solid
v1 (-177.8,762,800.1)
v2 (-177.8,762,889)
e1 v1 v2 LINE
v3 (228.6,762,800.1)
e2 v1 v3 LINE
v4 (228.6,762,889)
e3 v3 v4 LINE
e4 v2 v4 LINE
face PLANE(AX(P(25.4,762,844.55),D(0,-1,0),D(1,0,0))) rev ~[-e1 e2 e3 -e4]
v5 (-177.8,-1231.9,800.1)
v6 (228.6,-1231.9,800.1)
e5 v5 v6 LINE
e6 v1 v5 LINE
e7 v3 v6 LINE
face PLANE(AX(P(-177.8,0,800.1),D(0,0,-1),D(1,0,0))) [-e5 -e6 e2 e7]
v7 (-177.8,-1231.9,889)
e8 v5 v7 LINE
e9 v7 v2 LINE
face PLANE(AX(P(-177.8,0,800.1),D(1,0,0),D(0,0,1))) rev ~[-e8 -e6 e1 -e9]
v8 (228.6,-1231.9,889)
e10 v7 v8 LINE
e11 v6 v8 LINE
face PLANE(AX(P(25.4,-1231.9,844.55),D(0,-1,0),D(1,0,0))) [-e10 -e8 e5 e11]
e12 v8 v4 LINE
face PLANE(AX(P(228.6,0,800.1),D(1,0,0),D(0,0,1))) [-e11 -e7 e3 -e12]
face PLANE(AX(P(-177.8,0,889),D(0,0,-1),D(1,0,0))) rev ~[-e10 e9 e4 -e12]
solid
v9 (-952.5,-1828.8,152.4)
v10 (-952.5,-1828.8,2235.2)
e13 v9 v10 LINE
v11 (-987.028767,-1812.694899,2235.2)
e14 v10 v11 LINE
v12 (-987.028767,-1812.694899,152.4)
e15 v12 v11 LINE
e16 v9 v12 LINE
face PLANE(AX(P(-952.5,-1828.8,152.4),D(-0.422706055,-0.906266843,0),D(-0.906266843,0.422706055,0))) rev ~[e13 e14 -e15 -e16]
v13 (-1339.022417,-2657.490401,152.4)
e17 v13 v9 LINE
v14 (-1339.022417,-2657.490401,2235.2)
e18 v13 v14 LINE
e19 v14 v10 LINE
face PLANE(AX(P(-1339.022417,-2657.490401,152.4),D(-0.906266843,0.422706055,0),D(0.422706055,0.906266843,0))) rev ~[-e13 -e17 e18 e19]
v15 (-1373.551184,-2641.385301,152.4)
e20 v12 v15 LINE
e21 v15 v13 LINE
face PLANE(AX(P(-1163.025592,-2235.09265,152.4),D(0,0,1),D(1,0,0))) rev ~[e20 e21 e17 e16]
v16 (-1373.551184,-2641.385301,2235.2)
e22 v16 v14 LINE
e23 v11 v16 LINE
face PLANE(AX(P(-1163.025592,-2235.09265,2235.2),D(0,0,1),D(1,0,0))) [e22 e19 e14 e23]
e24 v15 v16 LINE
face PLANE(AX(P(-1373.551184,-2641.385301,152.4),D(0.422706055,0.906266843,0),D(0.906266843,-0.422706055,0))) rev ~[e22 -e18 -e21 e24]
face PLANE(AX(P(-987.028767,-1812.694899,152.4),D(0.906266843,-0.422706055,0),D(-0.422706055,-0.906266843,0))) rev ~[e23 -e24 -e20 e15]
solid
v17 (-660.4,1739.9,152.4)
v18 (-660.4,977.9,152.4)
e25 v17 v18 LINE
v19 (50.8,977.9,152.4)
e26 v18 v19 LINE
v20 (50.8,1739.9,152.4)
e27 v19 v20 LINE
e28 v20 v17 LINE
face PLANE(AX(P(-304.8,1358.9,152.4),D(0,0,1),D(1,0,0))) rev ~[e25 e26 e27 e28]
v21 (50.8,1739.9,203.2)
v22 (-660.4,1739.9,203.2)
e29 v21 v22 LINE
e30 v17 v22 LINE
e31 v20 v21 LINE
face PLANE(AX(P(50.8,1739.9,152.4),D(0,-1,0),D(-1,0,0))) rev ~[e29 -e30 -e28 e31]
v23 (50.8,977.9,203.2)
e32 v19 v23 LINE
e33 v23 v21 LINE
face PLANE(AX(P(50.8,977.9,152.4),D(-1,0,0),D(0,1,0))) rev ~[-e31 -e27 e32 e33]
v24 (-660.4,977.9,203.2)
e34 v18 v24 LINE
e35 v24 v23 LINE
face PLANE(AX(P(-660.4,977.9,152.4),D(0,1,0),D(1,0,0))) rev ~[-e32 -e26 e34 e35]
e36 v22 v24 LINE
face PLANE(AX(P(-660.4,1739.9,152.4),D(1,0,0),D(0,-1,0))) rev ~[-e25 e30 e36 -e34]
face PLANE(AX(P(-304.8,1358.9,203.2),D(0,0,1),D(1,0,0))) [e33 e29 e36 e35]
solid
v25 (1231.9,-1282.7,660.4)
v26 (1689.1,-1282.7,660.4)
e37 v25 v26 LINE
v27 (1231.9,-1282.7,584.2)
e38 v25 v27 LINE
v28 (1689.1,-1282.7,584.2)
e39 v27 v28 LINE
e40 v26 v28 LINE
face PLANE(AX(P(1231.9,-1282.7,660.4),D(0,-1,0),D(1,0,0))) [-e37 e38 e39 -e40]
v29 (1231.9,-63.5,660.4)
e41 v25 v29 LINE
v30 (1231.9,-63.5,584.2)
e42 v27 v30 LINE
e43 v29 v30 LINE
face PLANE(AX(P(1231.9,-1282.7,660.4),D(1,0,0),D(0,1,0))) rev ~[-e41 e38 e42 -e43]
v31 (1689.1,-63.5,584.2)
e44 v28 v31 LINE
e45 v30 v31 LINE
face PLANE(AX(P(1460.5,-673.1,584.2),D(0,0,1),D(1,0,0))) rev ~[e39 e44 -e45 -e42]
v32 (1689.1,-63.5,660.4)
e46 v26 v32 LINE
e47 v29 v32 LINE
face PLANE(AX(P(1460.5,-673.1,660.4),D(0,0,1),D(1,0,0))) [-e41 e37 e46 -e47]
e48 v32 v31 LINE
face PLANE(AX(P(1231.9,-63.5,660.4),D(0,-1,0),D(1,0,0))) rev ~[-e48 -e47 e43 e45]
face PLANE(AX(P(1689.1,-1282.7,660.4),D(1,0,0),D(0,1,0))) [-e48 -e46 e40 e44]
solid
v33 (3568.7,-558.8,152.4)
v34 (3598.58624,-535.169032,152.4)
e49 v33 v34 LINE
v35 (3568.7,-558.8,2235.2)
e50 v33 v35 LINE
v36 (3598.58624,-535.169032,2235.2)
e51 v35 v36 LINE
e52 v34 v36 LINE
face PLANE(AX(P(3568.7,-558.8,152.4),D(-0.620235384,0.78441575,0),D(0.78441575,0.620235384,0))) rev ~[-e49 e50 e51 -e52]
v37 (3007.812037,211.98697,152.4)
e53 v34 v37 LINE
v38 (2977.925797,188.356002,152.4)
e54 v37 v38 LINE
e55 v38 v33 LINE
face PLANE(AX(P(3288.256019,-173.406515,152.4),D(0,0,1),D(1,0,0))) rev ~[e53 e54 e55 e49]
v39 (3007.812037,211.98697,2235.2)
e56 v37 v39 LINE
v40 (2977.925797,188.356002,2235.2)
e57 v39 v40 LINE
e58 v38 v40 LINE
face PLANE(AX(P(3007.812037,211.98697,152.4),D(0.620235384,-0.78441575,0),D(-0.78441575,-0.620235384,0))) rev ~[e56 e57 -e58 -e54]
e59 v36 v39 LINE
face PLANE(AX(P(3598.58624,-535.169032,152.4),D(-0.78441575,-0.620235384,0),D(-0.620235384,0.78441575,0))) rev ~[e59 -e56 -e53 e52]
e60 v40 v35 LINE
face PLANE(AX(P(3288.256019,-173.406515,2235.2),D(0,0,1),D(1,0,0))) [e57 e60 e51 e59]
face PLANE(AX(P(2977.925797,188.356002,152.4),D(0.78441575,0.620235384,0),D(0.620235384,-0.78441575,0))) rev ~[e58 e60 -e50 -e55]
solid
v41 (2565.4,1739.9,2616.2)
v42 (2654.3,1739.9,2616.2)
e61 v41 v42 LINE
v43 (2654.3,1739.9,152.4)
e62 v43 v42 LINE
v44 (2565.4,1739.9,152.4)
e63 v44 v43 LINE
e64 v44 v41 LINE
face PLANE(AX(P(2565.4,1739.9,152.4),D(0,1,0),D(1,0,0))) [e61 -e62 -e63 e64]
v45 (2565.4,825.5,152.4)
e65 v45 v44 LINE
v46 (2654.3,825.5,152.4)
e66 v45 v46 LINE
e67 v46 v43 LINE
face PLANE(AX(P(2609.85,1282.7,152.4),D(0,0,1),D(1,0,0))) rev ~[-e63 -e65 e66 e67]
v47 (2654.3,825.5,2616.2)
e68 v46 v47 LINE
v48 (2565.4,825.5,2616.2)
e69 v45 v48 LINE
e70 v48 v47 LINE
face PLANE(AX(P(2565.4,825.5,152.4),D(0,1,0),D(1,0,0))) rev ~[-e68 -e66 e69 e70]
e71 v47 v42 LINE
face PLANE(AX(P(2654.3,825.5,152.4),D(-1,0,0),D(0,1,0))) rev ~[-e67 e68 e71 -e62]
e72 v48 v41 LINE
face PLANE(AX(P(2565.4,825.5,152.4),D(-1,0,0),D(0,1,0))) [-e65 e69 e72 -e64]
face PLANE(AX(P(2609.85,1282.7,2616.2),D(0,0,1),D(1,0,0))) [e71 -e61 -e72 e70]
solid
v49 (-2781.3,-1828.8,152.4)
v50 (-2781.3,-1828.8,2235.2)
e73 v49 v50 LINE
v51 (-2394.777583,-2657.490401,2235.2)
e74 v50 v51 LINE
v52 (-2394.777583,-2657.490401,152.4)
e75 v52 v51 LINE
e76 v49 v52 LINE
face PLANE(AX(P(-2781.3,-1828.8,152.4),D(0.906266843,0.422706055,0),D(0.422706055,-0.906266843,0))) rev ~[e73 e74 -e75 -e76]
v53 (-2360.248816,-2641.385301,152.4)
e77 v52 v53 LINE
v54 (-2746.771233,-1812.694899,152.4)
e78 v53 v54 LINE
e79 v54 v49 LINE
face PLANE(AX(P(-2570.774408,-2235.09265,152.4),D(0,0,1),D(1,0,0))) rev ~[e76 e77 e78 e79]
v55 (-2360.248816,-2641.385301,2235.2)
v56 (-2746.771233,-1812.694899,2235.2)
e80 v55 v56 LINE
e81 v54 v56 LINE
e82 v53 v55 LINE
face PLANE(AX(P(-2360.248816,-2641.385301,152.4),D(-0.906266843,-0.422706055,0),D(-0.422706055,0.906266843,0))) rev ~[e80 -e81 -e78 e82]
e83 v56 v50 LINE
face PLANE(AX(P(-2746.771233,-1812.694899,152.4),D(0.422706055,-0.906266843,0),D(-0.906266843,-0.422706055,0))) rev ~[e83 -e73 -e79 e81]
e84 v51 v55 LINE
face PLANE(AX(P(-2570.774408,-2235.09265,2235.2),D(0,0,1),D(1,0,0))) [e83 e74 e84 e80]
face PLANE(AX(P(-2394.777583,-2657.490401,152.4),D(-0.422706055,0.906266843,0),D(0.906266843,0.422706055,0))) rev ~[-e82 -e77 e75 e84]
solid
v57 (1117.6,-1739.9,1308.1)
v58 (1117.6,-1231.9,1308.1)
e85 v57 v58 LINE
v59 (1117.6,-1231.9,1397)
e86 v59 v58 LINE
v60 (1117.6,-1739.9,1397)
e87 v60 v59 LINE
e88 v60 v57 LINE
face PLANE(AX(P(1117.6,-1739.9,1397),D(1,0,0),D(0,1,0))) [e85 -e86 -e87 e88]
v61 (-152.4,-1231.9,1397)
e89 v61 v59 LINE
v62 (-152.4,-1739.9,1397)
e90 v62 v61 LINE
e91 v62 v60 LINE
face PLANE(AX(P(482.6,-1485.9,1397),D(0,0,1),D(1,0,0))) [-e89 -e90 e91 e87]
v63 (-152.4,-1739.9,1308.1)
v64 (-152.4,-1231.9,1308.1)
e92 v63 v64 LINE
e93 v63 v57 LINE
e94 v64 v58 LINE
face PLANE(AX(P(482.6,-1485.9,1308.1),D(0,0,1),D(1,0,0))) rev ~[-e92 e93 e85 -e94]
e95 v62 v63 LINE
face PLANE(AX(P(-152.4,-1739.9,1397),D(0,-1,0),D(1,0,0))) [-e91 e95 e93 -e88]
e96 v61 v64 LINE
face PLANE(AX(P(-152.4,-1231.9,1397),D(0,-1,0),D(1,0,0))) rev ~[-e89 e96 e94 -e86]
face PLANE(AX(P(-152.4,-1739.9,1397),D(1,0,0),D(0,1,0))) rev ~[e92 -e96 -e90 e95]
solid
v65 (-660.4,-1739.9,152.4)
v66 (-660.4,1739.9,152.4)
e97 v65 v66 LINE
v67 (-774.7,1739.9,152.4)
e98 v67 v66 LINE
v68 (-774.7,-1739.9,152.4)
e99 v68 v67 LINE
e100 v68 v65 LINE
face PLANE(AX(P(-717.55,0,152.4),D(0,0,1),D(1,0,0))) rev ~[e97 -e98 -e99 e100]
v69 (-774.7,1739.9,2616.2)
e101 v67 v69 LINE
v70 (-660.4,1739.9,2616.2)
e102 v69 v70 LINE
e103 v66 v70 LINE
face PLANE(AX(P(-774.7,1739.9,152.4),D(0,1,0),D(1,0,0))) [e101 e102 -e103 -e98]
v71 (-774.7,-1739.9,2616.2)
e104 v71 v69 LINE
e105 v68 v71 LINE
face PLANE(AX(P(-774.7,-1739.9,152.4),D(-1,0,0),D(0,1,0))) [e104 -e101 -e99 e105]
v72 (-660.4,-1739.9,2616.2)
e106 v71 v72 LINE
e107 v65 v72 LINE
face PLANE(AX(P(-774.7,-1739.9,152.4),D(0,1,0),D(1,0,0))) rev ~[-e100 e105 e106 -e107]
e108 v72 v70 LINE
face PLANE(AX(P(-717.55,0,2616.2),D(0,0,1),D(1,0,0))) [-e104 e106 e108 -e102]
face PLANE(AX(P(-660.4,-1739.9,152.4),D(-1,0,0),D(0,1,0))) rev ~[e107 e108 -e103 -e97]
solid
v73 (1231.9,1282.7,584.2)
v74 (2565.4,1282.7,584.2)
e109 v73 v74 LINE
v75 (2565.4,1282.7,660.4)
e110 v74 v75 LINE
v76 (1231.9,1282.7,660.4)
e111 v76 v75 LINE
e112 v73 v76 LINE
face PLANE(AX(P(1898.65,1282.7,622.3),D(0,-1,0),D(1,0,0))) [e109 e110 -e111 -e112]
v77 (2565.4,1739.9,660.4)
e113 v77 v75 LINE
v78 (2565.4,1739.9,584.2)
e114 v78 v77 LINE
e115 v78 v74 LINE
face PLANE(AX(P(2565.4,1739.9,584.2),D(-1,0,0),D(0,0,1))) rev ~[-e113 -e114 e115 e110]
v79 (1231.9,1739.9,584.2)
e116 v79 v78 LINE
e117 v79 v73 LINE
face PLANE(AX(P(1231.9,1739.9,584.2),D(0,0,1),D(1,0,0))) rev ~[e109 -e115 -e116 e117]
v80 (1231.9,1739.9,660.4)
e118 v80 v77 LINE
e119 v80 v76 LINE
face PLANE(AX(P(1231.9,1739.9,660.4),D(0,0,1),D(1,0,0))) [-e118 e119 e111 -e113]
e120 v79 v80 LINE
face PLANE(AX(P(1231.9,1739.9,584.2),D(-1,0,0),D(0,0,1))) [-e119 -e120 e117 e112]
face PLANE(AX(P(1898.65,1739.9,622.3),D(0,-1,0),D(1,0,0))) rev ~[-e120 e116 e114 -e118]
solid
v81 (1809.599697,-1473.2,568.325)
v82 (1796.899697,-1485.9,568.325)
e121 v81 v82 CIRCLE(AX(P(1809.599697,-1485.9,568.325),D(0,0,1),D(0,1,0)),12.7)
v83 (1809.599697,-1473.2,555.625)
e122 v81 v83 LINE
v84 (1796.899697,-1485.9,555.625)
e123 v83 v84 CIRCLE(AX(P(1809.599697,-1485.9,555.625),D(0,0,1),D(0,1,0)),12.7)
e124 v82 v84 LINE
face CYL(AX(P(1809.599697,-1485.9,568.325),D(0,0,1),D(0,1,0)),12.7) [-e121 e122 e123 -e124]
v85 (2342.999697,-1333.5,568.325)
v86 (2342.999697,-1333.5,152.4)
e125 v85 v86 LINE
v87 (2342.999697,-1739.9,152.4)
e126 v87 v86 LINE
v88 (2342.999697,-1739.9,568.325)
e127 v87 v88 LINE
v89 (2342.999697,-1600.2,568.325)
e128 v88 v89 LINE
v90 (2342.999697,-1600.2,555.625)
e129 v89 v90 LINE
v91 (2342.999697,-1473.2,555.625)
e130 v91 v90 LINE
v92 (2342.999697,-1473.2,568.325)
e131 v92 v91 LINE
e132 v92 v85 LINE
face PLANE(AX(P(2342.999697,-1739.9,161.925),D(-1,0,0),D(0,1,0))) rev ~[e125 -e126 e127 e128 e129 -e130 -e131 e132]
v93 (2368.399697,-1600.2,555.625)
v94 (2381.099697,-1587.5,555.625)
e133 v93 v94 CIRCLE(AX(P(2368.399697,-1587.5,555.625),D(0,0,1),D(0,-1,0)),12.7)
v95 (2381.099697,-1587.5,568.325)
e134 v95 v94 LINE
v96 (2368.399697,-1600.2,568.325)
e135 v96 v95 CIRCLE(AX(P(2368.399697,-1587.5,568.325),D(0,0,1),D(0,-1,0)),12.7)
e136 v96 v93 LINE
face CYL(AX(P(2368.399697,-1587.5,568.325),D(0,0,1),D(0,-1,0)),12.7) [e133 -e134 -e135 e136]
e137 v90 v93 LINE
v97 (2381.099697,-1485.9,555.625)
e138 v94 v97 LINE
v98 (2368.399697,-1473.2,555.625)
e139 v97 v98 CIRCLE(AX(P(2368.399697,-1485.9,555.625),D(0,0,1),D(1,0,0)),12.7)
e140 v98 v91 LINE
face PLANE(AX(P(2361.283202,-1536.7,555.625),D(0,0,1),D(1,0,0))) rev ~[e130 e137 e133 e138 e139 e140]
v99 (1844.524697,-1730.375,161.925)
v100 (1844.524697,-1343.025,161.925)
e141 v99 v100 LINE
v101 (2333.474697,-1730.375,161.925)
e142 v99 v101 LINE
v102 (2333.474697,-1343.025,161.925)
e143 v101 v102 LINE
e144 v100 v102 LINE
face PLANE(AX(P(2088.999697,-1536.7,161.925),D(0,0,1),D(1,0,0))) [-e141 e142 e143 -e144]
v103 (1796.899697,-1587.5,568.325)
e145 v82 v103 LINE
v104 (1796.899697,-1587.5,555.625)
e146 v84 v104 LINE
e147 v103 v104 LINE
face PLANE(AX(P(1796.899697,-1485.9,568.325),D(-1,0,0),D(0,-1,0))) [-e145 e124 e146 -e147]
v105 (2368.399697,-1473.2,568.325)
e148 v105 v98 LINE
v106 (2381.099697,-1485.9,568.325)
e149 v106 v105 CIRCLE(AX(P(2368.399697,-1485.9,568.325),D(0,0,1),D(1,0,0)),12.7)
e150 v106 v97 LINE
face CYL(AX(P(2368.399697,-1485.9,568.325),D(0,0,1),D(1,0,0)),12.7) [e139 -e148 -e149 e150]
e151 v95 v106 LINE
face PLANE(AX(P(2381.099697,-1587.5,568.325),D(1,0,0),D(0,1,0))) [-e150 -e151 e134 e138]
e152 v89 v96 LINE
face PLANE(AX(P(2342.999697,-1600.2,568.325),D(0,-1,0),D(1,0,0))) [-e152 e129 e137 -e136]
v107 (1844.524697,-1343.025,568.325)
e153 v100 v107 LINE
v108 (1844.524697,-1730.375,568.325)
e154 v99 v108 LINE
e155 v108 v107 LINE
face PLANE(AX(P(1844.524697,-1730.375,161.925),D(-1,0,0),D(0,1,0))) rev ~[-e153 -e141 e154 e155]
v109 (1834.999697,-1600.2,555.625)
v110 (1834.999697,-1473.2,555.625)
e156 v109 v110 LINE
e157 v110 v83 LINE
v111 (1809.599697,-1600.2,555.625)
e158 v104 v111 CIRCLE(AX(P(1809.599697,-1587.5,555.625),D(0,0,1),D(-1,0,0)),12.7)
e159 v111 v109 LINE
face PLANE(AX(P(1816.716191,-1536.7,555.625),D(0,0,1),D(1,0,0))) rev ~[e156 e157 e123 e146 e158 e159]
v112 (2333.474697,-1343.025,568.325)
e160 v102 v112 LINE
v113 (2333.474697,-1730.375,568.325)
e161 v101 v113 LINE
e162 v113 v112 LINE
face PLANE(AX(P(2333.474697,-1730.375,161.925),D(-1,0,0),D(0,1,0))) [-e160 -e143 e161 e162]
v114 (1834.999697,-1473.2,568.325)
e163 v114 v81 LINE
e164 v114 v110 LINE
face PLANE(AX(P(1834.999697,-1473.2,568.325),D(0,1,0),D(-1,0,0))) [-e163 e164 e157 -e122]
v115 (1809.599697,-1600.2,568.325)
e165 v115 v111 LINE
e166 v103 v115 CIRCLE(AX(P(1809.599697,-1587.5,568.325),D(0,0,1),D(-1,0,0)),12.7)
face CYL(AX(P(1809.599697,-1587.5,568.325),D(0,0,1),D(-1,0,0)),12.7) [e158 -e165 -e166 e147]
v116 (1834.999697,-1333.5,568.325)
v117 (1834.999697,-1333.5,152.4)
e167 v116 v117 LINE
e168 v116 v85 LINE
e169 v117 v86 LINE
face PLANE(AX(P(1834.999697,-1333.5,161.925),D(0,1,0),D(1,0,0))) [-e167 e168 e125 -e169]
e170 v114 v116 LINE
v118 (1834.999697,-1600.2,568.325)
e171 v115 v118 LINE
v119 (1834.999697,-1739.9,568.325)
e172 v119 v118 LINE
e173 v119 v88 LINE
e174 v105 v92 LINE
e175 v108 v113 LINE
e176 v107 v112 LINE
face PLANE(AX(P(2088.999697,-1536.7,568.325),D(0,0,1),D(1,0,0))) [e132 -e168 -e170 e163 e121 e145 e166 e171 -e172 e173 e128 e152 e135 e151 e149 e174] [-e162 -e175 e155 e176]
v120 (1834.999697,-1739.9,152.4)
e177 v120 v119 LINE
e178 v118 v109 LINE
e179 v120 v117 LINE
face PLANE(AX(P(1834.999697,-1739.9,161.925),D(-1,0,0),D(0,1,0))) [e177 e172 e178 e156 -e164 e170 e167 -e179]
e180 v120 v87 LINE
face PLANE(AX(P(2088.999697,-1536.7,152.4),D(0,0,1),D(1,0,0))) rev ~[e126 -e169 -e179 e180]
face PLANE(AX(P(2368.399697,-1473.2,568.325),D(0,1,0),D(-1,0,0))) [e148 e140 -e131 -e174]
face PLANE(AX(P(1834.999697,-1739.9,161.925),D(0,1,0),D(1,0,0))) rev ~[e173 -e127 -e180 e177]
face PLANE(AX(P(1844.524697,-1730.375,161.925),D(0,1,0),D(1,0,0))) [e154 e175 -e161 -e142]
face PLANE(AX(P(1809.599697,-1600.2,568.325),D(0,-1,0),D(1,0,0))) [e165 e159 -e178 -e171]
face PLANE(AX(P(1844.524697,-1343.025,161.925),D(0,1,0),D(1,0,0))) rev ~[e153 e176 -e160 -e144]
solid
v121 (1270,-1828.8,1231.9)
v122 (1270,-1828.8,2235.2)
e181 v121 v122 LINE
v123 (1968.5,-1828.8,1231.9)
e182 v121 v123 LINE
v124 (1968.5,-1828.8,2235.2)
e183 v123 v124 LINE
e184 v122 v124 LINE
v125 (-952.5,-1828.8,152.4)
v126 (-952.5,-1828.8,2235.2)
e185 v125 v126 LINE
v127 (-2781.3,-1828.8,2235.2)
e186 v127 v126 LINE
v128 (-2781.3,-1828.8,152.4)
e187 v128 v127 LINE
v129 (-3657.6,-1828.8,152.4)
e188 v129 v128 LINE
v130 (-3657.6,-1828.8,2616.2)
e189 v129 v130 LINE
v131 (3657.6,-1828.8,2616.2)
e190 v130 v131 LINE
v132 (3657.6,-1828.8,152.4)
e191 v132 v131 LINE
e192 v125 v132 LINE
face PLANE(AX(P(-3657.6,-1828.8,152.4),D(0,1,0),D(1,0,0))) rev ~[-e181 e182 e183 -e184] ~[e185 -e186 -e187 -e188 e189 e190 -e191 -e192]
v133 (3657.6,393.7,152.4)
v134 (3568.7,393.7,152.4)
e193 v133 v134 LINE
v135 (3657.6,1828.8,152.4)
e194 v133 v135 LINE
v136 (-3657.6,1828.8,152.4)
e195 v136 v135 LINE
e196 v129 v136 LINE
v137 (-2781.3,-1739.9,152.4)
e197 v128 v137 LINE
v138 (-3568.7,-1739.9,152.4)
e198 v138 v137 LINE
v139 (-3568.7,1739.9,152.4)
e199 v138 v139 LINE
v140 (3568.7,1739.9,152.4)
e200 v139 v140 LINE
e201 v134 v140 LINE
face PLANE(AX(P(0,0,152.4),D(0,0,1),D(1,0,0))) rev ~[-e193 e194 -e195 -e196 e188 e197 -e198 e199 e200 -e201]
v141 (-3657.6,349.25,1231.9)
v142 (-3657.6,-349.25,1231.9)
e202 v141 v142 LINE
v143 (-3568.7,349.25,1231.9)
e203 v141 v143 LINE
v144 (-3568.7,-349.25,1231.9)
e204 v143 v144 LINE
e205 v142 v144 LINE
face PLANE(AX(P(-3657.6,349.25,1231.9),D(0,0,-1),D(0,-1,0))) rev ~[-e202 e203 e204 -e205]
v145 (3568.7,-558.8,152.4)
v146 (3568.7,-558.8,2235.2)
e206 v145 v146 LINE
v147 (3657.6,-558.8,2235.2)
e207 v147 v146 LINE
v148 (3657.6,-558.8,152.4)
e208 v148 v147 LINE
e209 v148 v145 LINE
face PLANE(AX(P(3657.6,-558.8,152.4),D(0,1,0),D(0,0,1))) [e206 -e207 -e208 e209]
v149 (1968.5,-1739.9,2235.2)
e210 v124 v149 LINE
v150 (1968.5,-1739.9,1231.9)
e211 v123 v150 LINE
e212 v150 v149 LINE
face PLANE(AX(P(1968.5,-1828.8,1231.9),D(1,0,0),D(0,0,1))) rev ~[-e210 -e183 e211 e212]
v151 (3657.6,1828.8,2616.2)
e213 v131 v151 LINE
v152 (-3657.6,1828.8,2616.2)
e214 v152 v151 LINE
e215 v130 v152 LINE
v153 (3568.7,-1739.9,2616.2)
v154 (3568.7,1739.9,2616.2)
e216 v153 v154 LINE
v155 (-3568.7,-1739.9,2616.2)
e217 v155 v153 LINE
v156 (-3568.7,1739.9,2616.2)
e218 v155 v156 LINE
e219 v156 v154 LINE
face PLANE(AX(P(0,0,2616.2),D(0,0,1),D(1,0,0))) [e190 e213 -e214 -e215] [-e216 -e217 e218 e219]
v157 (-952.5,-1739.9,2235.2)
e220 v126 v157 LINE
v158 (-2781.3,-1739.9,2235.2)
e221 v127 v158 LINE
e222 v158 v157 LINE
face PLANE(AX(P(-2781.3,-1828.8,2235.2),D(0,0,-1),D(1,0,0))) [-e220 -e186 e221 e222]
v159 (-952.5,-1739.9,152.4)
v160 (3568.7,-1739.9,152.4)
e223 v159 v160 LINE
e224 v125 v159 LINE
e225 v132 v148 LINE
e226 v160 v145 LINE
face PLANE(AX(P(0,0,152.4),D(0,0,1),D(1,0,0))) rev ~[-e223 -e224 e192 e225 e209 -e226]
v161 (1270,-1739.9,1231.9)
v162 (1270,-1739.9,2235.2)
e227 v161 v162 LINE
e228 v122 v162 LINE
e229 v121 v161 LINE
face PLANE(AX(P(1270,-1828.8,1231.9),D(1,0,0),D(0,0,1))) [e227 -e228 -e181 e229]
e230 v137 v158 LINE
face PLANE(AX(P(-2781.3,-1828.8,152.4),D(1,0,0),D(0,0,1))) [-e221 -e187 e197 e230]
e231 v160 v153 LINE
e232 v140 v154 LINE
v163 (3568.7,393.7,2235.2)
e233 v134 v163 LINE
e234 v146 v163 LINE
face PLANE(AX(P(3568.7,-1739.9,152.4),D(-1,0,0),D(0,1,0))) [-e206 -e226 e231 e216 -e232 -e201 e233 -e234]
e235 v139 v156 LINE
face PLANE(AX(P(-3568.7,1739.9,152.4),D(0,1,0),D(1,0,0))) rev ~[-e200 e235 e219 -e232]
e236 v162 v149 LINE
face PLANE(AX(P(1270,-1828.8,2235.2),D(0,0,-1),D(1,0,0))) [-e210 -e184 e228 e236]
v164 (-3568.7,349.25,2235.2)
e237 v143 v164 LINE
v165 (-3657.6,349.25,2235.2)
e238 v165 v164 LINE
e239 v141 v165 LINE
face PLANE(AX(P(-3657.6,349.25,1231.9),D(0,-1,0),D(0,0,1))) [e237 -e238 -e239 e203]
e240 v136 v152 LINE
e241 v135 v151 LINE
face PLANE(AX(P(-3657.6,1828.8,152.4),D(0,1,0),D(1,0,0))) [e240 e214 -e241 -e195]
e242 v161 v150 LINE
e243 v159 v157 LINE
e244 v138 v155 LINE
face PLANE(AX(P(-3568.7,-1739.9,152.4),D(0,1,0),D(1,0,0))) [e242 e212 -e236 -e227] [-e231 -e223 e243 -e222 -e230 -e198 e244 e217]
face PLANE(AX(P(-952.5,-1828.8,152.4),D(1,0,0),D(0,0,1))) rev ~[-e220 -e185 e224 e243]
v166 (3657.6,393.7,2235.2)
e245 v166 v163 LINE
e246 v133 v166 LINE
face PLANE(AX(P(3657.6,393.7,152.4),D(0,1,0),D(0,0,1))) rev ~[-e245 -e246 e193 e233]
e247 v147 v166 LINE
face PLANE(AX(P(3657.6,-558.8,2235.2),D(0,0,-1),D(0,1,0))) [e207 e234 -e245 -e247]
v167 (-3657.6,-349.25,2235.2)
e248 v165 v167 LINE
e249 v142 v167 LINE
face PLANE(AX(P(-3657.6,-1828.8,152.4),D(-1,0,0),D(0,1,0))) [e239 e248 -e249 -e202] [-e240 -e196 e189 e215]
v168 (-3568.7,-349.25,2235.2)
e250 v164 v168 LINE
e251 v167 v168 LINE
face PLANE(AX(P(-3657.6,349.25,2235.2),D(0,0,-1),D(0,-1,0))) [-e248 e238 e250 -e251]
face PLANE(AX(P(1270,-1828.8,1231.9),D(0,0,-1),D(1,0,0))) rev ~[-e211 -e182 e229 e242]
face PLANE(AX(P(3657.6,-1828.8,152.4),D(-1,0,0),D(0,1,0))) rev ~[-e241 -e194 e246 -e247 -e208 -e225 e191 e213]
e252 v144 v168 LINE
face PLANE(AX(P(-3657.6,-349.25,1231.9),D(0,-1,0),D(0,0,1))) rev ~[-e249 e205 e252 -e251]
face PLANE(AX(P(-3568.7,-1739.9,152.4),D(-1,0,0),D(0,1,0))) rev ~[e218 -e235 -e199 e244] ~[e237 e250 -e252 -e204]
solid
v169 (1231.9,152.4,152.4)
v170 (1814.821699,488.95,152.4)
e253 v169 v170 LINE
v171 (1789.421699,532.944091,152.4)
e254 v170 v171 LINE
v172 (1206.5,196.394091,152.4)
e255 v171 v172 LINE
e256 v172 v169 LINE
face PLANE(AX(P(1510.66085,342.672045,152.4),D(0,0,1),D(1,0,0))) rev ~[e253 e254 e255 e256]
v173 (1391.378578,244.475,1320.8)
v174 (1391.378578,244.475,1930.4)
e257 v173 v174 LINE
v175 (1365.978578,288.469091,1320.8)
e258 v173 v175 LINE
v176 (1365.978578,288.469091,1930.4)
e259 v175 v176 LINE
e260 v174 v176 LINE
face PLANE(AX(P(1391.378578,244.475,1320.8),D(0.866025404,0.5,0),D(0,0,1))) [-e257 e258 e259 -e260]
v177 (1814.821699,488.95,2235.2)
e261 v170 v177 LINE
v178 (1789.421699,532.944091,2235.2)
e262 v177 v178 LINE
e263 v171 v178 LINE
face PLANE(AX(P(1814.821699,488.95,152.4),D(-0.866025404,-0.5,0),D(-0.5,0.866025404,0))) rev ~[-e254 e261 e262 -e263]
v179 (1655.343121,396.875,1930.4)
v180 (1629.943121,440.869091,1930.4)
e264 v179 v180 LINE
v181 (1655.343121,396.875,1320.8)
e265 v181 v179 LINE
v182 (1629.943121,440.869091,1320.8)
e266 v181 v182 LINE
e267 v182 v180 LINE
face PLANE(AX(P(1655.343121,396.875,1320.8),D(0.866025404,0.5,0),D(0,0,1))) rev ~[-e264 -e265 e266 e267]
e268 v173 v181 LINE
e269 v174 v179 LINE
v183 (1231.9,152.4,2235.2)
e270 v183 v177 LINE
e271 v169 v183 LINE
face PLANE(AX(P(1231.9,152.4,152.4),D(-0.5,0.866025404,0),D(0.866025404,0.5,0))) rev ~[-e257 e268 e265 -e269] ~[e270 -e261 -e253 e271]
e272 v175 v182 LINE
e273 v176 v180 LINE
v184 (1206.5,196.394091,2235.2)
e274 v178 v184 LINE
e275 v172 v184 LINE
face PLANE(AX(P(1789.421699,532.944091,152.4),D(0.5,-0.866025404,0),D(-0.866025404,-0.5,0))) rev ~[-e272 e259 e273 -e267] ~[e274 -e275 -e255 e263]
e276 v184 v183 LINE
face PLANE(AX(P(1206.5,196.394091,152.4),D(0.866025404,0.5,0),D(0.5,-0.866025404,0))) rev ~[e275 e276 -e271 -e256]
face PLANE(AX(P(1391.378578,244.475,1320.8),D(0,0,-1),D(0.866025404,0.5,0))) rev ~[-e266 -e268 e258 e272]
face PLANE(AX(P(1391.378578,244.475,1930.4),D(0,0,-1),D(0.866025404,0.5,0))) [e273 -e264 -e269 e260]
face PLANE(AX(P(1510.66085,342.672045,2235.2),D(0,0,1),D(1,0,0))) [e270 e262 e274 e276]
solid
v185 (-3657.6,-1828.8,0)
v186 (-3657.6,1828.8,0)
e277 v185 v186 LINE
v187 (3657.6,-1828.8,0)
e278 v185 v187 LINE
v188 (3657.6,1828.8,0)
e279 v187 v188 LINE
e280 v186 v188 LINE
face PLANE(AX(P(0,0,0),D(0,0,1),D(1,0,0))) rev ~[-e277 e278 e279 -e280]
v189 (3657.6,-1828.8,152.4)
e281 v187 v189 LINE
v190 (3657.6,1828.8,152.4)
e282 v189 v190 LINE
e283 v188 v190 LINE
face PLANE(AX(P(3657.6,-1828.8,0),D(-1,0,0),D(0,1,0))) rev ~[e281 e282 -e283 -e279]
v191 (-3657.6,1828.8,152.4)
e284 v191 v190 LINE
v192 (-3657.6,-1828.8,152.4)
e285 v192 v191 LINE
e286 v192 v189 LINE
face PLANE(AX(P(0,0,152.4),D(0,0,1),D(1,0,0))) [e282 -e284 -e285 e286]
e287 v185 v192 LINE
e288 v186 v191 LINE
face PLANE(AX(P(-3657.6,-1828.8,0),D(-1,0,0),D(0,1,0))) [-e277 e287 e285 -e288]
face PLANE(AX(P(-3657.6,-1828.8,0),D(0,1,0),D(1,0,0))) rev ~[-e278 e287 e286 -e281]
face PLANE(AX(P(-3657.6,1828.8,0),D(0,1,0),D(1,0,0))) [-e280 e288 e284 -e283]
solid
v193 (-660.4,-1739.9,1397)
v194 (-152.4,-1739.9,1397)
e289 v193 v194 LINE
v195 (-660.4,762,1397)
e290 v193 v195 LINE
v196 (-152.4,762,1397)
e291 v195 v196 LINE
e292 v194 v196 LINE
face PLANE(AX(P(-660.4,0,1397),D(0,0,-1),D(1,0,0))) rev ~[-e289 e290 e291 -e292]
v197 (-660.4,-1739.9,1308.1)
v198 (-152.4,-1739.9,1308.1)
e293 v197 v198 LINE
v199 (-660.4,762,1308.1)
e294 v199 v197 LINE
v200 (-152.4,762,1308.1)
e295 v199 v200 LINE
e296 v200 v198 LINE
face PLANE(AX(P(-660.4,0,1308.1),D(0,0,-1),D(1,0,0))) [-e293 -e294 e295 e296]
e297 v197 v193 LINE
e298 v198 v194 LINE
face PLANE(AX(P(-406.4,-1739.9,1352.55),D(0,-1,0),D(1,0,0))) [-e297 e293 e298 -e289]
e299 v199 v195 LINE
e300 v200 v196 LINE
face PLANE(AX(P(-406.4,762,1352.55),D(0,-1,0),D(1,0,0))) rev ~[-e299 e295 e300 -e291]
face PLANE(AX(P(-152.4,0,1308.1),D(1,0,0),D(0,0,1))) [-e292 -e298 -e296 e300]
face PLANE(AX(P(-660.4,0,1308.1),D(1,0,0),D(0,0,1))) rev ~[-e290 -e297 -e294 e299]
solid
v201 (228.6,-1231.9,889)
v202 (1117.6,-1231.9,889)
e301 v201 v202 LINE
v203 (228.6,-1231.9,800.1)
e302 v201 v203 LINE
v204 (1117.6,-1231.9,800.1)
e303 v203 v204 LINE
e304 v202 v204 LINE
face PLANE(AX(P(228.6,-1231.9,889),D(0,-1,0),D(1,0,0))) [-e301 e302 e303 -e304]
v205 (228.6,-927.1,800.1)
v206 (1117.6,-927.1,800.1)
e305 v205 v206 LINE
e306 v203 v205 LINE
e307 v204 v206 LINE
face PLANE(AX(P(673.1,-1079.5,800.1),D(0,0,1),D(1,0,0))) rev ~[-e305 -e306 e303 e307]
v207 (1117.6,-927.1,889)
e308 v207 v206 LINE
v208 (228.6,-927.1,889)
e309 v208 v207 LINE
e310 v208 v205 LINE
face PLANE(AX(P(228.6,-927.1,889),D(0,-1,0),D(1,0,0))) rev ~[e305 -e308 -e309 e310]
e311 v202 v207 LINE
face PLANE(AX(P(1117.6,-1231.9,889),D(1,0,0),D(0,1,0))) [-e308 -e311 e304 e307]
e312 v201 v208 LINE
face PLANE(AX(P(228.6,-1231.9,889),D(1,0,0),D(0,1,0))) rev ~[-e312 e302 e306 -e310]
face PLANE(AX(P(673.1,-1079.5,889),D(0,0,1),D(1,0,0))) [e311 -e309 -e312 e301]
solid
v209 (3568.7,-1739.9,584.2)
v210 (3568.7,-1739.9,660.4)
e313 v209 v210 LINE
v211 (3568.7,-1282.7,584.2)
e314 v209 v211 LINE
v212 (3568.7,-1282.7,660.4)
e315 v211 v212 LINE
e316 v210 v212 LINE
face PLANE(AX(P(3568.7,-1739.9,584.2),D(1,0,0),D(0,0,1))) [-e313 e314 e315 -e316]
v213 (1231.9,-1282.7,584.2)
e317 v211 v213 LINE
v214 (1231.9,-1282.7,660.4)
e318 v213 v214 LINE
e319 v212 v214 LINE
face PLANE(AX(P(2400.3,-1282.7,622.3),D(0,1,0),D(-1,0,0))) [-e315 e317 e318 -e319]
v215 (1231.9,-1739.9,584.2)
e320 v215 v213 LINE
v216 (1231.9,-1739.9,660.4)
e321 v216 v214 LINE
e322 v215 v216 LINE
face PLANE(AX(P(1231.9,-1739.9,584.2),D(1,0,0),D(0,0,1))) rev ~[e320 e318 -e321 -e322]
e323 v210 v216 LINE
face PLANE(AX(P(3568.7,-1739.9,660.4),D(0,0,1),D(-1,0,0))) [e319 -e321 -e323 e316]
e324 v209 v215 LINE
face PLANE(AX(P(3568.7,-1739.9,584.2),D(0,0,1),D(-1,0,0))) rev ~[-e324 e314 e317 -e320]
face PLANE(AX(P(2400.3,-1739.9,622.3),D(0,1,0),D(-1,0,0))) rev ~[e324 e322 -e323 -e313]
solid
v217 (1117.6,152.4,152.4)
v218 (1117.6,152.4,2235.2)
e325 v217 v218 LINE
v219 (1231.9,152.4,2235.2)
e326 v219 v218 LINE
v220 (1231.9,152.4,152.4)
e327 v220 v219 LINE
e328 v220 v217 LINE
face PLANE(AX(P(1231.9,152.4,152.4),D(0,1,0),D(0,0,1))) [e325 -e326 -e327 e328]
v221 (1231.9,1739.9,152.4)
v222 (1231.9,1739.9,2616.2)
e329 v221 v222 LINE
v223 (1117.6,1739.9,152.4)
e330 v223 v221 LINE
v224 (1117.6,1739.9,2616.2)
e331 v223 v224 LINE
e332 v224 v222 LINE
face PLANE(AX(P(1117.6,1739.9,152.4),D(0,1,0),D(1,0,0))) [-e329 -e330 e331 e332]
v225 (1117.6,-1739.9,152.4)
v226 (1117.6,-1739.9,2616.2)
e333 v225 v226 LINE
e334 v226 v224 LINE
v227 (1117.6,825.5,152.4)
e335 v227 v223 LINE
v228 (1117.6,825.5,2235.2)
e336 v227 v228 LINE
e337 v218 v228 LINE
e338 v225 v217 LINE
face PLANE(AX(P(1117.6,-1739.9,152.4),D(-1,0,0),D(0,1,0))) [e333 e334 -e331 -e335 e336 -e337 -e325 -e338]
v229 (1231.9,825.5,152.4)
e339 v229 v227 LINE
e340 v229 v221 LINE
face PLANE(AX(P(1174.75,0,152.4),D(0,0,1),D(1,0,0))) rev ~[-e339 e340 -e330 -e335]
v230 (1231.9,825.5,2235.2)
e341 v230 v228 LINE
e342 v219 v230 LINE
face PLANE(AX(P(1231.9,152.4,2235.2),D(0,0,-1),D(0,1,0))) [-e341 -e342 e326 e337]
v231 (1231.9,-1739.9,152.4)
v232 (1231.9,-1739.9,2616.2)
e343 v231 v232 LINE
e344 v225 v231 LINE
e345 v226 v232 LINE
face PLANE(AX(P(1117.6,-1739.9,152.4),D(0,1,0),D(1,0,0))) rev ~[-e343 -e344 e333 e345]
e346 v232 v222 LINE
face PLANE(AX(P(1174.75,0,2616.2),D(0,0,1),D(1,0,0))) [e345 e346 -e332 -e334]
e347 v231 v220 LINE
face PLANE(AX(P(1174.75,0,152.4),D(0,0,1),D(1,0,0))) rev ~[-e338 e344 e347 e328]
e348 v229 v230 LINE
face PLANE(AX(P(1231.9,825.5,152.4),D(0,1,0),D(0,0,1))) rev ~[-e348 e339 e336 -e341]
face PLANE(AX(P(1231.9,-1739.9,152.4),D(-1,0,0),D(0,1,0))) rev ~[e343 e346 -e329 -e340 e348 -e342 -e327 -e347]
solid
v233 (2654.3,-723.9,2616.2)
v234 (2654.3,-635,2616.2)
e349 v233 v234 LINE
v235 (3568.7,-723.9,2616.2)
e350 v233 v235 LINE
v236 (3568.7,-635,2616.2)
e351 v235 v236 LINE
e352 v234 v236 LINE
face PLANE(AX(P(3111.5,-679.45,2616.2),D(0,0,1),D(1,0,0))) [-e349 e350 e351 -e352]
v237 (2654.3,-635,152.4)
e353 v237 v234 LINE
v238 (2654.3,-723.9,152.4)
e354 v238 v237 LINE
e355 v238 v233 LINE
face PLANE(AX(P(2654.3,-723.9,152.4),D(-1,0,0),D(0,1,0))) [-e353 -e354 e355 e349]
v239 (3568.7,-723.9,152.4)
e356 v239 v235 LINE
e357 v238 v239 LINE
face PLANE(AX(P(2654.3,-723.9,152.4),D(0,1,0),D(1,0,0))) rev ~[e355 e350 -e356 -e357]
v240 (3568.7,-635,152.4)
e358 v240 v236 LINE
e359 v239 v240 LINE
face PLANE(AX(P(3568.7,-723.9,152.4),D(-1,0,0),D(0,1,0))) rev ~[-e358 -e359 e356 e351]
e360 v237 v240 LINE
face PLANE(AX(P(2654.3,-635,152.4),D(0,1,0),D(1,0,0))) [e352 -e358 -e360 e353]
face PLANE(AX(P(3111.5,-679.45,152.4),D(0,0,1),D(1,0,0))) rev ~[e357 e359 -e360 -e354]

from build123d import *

# Parameters (mm, degrees)
F0_W           = 7315.2
F0_H           = 3657.6
F1_DEPTH       = 152.4
F2_W           = 7315.2
F2_H           = 3657.6
F2_W_2         = 7137.4
F2_H_2         = 3479.8
F3_DEPTH       = 2463.8
F4_W           = 952.5
F4_H           = 2082.8
F5_DEPTH       = 88.9
F6_W           = 1828.8
F6_H           = 2082.8
F6_W_2         = 698.5
F6_H_2         = 1003.3
F7_DEPTH       = 88.9
F8_W           = 698.5
F8_H           = 1003.3
F9_DEPTH       = 88.9
F10_W          = 114.3
F10_H          = 3479.8
F11_DEPTH      = 2463.8
F12_W          = 914.4
F12_H          = 88.9
F13_DEPTH      = 2463.8
F14_W          = 673.1
F14_H          = 2082.8
F15_DEPTH      = 114.3
F16_W          = 508
F16_H          = 88.9
F17_DEPTH      = 1739.9
F17_DEPTH_BACK = 762
F18_W          = 1270
F18_H          = 508
F19_DEPTH      = 88.9
F20_W          = 406.4
F20_H          = 88.9
F21_DEPTH      = 1231.9
F21_DEPTH_BACK = 762
F22_W          = 889
F22_H          = 304.8
F24_DEPTH      = 88.9
F26_DEPTH      = 2082.8
F28_DEPTH      = 2082.8
F29_W          = 2336.8
F29_H          = 76.2
F30_DEPTH      = 457.2
F31_W          = 304.8
F31_H          = 609.6
F32_DEPTH      = 50.8
F34_DEPTH      = 50.8
F35_W          = 508
F35_H          = 406.4
F36_DEPTH      = 9.525
F37_W          = 508
F37_H          = 406.4
F37_W_2        = 488.95
F37_H_2        = 387.35
F38_DEPTH      = 406.4
F40_DEPTH      = 12.7
F42_DEPTH      = 2082.8
F43_W          = 88.9
F43_H          = 914.4
F44_DEPTH      = 2463.8
F45_W          = 457.2
F45_H          = 1219.2
F46_DEPTH      = 76.2
F47_W          = 1333.5
F47_H          = 76.2
F48_DEPTH      = 457.2


with BuildPart() as f1:
    # F0 (on Top) → F1 (new body)
    with BuildSketch(Plane.XY):
        Rectangle(F0_W, F0_H)
    extrude(amount=F1_DEPTH)


with BuildPart() as f3:
    # F2 (on face) → F3 (new body)
    with BuildSketch(Plane.XY.offset(152.4)):
        Rectangle(F2_W, F2_H)
        Rectangle(F2_W_2, F2_H_2, mode=Mode.SUBTRACT)
    extrude(amount=F3_DEPTH)

    # F4 (on face) → F5 (cut, through all)
    with BuildSketch(Plane.YZ.offset(3657.6)):
        with Locations((-82.55, 1193.8)):
            Rectangle(F4_W, F4_H)
    extrude(amount=-F5_DEPTH, mode=Mode.SUBTRACT)

    # F6 (on face) → F7 (cut, through all)
    with BuildSketch(Plane.XZ.offset(1828.8)):
        with Locations((-1866.9, 1193.8)):
            Rectangle(F6_W, F6_H)
        with Locations((1619.25, 1733.55)):
            Rectangle(F6_W_2, F6_H_2)
    extrude(amount=-F7_DEPTH, mode=Mode.SUBTRACT)

    # F8 (on face) → F9 (cut, through all)
    with BuildSketch(Plane(origin=(-3657.6, 0, 0), x_dir=(0, -1, 0), z_dir=(-1, 0, 0))):
        with Locations((0, 1733.55)):
            Rectangle(F8_W, F8_H)
    extrude(amount=-F9_DEPTH, mode=Mode.SUBTRACT)


with BuildPart() as f11:
    # F10 (on face) → F11 (new body, through all)
    with BuildSketch(Plane.XY.offset(152.4)):
        with Locations((-717.55, 0)):
            Rectangle(F10_W, F10_H)
    extrude(amount=F11_DEPTH)


with BuildPart() as f11b:
    # F10 (on face) → F11, piece 2 (new body, through all)
    with BuildSketch(Plane.XY.offset(152.4)):
        with Locations((1174.75, 0)):
            Rectangle(F10_W, F10_H)
    extrude(amount=F11_DEPTH)

    # F14 (on face) → F15 (cut, through all)
    with BuildSketch(Plane.YZ.offset(1231.9)):
        with Locations((488.95, 1193.8)):
            Rectangle(F14_W, F14_H)
    extrude(amount=-F15_DEPTH, mode=Mode.SUBTRACT)


with BuildPart() as f13:
    # F12 (on face) → F13 (new body, through all)
    with BuildSketch(Plane.XY.offset(152.4)):
        with Locations((3111.5, -679.45)):
            Rectangle(F12_W, F12_H)
    extrude(amount=F13_DEPTH)


with BuildPart() as f17:
    # F16 (on Front) → F17 (new body, two sides)
    with BuildSketch(Plane.XZ) as f17_sk:
        with Locations((-406.4, 1352.55)):
            Rectangle(F16_W, F16_H)
    extrude(amount=F17_DEPTH)
    extrude(f17_sk.sketch, amount=-F17_DEPTH_BACK)


with BuildPart() as f19:
    # F18 (on face) → F19 (new body, through all)
    with BuildSketch(Plane.XY.offset(1397)):
        with Locations((482.6, -1485.9)):
            Rectangle(F18_W, F18_H)
    extrude(amount=-F19_DEPTH)


with BuildPart() as f21:
    # F20 (on Front) → F21 (new body, two sides)
    with BuildSketch(Plane.XZ) as f21_sk:
        with Locations((25.4, 844.55)):
            Rectangle(F20_W, F20_H)
    extrude(amount=F21_DEPTH)
    extrude(f21_sk.sketch, amount=-F21_DEPTH_BACK)


with BuildPart() as f24:
    # F22 (on face) → F24 (new body, through all)
    with BuildSketch(Plane.XY.offset(889)):
        with Locations((673.1, -1079.5)):
            Rectangle(F22_W, F22_H)
    extrude(amount=-F24_DEPTH)


with BuildPart() as f26:
    # F25 (on face) → F26 (new body)
    with BuildSketch(Plane.XY.offset(152.4)):
        Polygon((1789.4216992873, 532.9440905122), (1206.5, 196.3940905122), (1231.9, 152.4), (1814.8216992873, 488.95), align=None)
    extrude(amount=F26_DEPTH)

    # F31 (on face) → F32 (cut, through all)
    with BuildSketch(Plane(origin=(241.9838642316, -419.128347461, 0), x_dir=(0.8660254038, 0.5, 0), z_dir=(0.5, -0.8660254038, 0))):
        with Locations((1479.6066949221, 1625.6)):
            Rectangle(F31_W, F31_H)
    extrude(amount=-F32_DEPTH, mode=Mode.SUBTRACT)


with BuildPart() as f28:
    # F27 (on face) → F28 (new body)
    with BuildSketch(Plane.XY.offset(152.4)):
        Polygon((2977.9257969634, 188.3560018005), (3568.7, -558.8), (3598.586240072, -535.1690318785), (3007.8120370354, 211.986969922), align=None)
    extrude(amount=F28_DEPTH)


with BuildPart() as f30:
    # F29 (on face) → F30 (new body)
    with BuildSketch(Plane(origin=(0, -1739.9, 0), x_dir=(-1, 0, 0), z_dir=(0, 1, 0))):
        with Locations((-2400.3, 622.3)):
            Rectangle(F29_W, F29_H)
    extrude(amount=F30_DEPTH)


with BuildPart() as f34:
    # F33 (on face) → F34 (new body)
    with BuildSketch(Plane.XY.offset(152.4)):
        Polygon((-660.4, 977.9), (50.8, 977.9), (50.8, 1358.9), (50.8, 1739.9), (-660.4, 1739.9), align=None)
    extrude(amount=F34_DEPTH)


with BuildPart() as f36:
    # F35 (on face) → F36 (new body)
    with BuildSketch(Plane.XY.offset(152.4)):
        with Locations((2088.9996967316, -1536.7)):
            Rectangle(F35_W, F35_H)
    extrude(amount=F36_DEPTH)

    # F37 (on face) → F38 (join)
    with BuildSketch(Plane.XY.offset(161.925)):
        with Locations((2088.9996967316, -1536.7)):
            Rectangle(F37_W, F37_H)
        with Locations((2088.9996967316, -1536.7)):
            Rectangle(F37_W_2, F37_H_2, mode=Mode.SUBTRACT)
    extrude(amount=F38_DEPTH)

    # F39 (on face) → F40 (join)
    with BuildSketch(Plane.XY.offset(568.325)):
        with BuildLine():
            Line((1809.5996967316, -1600.2), (1834.9996967316, -1600.2))
            Line((1834.9996967316, -1600.2), (1834.9996967316, -1473.2))
            Line((1834.9996967316, -1473.2), (1809.5996967316, -1473.2))
            ThreePointArc((1809.5996967316, -1473.2), (1800.6194406105, -1476.9197438789), (1796.8996967316, -1485.9))
            Line((1796.8996967316, -1485.9), (1796.8996967316, -1587.5))
            ThreePointArc((1796.8996967316, -1587.5), (1800.6194406105, -1596.4802561211), (1809.5996967316, -1600.2))
        make_face()
        with BuildLine():
            Line((2342.9996967316, -1473.2), (2342.9996967316, -1600.2))
            Line((2342.9996967316, -1600.2), (2368.3996967316, -1600.2))
            ThreePointArc((2368.3996967316, -1600.2), (2377.3799528526, -1596.4802561211), (2381.0996967316, -1587.5))
            Line((2381.0996967316, -1587.5), (2381.0996967316, -1485.9))
            ThreePointArc((2381.0996967316, -1485.9), (2377.3799528526, -1476.9197438789), (2368.3996967316, -1473.2))
            Line((2368.3996967316, -1473.2), (2342.9996967316, -1473.2))
        make_face()
    extrude(amount=-F40_DEPTH)


with BuildPart() as f42:
    # F41 (on face) → F42 (new body)
    with BuildSketch(Plane.XY.offset(152.4)):
        Polygon((-2746.7712332818, -1812.6948992887), (-2781.3, -1828.8), (-2394.7775829299, -2657.490401237), (-2360.2488162117, -2641.3853005257), align=None)
    extrude(amount=F42_DEPTH)


with BuildPart() as f42b:
    # F41 (on face) → F42, piece 2 (new body)
    with BuildSketch(Plane.XY.offset(152.4)):
        Polygon((-1339.0224170701, -2657.490401237), (-952.5, -1828.8), (-987.0287667182, -1812.6948992887), (-1373.5511837883, -2641.3853005257), align=None)
    extrude(amount=F42_DEPTH)


with BuildPart() as f44:
    # F43 (on face) → F44 (new body)
    with BuildSketch(Plane.XY.offset(152.4)):
        with Locations((2609.85, 1282.7)):
            Rectangle(F43_W, F43_H)
    extrude(amount=F44_DEPTH)


with BuildPart() as f46:
    # F45 (on face) → F46 (new body)
    with BuildSketch(Plane.XY.offset(660.4)):
        with Locations((1460.5, -673.1)):
            Rectangle(F45_W, F45_H)
    extrude(amount=-F46_DEPTH)


with BuildPart() as f48:
    # F47 (on face) → F48 (new body)
    with BuildSketch(Plane.XZ.offset(-1739.9)):
        with Locations((1898.65, 622.3)):
            Rectangle(F47_W, F47_H)
    extrude(amount=F48_DEPTH)


solid = Compound([f1.part, f3.part, f11.part, f11b.part, f13.part, f17.part, f19.part, f21.part, f24.part, f26.part, f28.part, f30.part, f34.part, f36.part, f42.part, f42b.part, f44.part, f46.part, f48.part])
